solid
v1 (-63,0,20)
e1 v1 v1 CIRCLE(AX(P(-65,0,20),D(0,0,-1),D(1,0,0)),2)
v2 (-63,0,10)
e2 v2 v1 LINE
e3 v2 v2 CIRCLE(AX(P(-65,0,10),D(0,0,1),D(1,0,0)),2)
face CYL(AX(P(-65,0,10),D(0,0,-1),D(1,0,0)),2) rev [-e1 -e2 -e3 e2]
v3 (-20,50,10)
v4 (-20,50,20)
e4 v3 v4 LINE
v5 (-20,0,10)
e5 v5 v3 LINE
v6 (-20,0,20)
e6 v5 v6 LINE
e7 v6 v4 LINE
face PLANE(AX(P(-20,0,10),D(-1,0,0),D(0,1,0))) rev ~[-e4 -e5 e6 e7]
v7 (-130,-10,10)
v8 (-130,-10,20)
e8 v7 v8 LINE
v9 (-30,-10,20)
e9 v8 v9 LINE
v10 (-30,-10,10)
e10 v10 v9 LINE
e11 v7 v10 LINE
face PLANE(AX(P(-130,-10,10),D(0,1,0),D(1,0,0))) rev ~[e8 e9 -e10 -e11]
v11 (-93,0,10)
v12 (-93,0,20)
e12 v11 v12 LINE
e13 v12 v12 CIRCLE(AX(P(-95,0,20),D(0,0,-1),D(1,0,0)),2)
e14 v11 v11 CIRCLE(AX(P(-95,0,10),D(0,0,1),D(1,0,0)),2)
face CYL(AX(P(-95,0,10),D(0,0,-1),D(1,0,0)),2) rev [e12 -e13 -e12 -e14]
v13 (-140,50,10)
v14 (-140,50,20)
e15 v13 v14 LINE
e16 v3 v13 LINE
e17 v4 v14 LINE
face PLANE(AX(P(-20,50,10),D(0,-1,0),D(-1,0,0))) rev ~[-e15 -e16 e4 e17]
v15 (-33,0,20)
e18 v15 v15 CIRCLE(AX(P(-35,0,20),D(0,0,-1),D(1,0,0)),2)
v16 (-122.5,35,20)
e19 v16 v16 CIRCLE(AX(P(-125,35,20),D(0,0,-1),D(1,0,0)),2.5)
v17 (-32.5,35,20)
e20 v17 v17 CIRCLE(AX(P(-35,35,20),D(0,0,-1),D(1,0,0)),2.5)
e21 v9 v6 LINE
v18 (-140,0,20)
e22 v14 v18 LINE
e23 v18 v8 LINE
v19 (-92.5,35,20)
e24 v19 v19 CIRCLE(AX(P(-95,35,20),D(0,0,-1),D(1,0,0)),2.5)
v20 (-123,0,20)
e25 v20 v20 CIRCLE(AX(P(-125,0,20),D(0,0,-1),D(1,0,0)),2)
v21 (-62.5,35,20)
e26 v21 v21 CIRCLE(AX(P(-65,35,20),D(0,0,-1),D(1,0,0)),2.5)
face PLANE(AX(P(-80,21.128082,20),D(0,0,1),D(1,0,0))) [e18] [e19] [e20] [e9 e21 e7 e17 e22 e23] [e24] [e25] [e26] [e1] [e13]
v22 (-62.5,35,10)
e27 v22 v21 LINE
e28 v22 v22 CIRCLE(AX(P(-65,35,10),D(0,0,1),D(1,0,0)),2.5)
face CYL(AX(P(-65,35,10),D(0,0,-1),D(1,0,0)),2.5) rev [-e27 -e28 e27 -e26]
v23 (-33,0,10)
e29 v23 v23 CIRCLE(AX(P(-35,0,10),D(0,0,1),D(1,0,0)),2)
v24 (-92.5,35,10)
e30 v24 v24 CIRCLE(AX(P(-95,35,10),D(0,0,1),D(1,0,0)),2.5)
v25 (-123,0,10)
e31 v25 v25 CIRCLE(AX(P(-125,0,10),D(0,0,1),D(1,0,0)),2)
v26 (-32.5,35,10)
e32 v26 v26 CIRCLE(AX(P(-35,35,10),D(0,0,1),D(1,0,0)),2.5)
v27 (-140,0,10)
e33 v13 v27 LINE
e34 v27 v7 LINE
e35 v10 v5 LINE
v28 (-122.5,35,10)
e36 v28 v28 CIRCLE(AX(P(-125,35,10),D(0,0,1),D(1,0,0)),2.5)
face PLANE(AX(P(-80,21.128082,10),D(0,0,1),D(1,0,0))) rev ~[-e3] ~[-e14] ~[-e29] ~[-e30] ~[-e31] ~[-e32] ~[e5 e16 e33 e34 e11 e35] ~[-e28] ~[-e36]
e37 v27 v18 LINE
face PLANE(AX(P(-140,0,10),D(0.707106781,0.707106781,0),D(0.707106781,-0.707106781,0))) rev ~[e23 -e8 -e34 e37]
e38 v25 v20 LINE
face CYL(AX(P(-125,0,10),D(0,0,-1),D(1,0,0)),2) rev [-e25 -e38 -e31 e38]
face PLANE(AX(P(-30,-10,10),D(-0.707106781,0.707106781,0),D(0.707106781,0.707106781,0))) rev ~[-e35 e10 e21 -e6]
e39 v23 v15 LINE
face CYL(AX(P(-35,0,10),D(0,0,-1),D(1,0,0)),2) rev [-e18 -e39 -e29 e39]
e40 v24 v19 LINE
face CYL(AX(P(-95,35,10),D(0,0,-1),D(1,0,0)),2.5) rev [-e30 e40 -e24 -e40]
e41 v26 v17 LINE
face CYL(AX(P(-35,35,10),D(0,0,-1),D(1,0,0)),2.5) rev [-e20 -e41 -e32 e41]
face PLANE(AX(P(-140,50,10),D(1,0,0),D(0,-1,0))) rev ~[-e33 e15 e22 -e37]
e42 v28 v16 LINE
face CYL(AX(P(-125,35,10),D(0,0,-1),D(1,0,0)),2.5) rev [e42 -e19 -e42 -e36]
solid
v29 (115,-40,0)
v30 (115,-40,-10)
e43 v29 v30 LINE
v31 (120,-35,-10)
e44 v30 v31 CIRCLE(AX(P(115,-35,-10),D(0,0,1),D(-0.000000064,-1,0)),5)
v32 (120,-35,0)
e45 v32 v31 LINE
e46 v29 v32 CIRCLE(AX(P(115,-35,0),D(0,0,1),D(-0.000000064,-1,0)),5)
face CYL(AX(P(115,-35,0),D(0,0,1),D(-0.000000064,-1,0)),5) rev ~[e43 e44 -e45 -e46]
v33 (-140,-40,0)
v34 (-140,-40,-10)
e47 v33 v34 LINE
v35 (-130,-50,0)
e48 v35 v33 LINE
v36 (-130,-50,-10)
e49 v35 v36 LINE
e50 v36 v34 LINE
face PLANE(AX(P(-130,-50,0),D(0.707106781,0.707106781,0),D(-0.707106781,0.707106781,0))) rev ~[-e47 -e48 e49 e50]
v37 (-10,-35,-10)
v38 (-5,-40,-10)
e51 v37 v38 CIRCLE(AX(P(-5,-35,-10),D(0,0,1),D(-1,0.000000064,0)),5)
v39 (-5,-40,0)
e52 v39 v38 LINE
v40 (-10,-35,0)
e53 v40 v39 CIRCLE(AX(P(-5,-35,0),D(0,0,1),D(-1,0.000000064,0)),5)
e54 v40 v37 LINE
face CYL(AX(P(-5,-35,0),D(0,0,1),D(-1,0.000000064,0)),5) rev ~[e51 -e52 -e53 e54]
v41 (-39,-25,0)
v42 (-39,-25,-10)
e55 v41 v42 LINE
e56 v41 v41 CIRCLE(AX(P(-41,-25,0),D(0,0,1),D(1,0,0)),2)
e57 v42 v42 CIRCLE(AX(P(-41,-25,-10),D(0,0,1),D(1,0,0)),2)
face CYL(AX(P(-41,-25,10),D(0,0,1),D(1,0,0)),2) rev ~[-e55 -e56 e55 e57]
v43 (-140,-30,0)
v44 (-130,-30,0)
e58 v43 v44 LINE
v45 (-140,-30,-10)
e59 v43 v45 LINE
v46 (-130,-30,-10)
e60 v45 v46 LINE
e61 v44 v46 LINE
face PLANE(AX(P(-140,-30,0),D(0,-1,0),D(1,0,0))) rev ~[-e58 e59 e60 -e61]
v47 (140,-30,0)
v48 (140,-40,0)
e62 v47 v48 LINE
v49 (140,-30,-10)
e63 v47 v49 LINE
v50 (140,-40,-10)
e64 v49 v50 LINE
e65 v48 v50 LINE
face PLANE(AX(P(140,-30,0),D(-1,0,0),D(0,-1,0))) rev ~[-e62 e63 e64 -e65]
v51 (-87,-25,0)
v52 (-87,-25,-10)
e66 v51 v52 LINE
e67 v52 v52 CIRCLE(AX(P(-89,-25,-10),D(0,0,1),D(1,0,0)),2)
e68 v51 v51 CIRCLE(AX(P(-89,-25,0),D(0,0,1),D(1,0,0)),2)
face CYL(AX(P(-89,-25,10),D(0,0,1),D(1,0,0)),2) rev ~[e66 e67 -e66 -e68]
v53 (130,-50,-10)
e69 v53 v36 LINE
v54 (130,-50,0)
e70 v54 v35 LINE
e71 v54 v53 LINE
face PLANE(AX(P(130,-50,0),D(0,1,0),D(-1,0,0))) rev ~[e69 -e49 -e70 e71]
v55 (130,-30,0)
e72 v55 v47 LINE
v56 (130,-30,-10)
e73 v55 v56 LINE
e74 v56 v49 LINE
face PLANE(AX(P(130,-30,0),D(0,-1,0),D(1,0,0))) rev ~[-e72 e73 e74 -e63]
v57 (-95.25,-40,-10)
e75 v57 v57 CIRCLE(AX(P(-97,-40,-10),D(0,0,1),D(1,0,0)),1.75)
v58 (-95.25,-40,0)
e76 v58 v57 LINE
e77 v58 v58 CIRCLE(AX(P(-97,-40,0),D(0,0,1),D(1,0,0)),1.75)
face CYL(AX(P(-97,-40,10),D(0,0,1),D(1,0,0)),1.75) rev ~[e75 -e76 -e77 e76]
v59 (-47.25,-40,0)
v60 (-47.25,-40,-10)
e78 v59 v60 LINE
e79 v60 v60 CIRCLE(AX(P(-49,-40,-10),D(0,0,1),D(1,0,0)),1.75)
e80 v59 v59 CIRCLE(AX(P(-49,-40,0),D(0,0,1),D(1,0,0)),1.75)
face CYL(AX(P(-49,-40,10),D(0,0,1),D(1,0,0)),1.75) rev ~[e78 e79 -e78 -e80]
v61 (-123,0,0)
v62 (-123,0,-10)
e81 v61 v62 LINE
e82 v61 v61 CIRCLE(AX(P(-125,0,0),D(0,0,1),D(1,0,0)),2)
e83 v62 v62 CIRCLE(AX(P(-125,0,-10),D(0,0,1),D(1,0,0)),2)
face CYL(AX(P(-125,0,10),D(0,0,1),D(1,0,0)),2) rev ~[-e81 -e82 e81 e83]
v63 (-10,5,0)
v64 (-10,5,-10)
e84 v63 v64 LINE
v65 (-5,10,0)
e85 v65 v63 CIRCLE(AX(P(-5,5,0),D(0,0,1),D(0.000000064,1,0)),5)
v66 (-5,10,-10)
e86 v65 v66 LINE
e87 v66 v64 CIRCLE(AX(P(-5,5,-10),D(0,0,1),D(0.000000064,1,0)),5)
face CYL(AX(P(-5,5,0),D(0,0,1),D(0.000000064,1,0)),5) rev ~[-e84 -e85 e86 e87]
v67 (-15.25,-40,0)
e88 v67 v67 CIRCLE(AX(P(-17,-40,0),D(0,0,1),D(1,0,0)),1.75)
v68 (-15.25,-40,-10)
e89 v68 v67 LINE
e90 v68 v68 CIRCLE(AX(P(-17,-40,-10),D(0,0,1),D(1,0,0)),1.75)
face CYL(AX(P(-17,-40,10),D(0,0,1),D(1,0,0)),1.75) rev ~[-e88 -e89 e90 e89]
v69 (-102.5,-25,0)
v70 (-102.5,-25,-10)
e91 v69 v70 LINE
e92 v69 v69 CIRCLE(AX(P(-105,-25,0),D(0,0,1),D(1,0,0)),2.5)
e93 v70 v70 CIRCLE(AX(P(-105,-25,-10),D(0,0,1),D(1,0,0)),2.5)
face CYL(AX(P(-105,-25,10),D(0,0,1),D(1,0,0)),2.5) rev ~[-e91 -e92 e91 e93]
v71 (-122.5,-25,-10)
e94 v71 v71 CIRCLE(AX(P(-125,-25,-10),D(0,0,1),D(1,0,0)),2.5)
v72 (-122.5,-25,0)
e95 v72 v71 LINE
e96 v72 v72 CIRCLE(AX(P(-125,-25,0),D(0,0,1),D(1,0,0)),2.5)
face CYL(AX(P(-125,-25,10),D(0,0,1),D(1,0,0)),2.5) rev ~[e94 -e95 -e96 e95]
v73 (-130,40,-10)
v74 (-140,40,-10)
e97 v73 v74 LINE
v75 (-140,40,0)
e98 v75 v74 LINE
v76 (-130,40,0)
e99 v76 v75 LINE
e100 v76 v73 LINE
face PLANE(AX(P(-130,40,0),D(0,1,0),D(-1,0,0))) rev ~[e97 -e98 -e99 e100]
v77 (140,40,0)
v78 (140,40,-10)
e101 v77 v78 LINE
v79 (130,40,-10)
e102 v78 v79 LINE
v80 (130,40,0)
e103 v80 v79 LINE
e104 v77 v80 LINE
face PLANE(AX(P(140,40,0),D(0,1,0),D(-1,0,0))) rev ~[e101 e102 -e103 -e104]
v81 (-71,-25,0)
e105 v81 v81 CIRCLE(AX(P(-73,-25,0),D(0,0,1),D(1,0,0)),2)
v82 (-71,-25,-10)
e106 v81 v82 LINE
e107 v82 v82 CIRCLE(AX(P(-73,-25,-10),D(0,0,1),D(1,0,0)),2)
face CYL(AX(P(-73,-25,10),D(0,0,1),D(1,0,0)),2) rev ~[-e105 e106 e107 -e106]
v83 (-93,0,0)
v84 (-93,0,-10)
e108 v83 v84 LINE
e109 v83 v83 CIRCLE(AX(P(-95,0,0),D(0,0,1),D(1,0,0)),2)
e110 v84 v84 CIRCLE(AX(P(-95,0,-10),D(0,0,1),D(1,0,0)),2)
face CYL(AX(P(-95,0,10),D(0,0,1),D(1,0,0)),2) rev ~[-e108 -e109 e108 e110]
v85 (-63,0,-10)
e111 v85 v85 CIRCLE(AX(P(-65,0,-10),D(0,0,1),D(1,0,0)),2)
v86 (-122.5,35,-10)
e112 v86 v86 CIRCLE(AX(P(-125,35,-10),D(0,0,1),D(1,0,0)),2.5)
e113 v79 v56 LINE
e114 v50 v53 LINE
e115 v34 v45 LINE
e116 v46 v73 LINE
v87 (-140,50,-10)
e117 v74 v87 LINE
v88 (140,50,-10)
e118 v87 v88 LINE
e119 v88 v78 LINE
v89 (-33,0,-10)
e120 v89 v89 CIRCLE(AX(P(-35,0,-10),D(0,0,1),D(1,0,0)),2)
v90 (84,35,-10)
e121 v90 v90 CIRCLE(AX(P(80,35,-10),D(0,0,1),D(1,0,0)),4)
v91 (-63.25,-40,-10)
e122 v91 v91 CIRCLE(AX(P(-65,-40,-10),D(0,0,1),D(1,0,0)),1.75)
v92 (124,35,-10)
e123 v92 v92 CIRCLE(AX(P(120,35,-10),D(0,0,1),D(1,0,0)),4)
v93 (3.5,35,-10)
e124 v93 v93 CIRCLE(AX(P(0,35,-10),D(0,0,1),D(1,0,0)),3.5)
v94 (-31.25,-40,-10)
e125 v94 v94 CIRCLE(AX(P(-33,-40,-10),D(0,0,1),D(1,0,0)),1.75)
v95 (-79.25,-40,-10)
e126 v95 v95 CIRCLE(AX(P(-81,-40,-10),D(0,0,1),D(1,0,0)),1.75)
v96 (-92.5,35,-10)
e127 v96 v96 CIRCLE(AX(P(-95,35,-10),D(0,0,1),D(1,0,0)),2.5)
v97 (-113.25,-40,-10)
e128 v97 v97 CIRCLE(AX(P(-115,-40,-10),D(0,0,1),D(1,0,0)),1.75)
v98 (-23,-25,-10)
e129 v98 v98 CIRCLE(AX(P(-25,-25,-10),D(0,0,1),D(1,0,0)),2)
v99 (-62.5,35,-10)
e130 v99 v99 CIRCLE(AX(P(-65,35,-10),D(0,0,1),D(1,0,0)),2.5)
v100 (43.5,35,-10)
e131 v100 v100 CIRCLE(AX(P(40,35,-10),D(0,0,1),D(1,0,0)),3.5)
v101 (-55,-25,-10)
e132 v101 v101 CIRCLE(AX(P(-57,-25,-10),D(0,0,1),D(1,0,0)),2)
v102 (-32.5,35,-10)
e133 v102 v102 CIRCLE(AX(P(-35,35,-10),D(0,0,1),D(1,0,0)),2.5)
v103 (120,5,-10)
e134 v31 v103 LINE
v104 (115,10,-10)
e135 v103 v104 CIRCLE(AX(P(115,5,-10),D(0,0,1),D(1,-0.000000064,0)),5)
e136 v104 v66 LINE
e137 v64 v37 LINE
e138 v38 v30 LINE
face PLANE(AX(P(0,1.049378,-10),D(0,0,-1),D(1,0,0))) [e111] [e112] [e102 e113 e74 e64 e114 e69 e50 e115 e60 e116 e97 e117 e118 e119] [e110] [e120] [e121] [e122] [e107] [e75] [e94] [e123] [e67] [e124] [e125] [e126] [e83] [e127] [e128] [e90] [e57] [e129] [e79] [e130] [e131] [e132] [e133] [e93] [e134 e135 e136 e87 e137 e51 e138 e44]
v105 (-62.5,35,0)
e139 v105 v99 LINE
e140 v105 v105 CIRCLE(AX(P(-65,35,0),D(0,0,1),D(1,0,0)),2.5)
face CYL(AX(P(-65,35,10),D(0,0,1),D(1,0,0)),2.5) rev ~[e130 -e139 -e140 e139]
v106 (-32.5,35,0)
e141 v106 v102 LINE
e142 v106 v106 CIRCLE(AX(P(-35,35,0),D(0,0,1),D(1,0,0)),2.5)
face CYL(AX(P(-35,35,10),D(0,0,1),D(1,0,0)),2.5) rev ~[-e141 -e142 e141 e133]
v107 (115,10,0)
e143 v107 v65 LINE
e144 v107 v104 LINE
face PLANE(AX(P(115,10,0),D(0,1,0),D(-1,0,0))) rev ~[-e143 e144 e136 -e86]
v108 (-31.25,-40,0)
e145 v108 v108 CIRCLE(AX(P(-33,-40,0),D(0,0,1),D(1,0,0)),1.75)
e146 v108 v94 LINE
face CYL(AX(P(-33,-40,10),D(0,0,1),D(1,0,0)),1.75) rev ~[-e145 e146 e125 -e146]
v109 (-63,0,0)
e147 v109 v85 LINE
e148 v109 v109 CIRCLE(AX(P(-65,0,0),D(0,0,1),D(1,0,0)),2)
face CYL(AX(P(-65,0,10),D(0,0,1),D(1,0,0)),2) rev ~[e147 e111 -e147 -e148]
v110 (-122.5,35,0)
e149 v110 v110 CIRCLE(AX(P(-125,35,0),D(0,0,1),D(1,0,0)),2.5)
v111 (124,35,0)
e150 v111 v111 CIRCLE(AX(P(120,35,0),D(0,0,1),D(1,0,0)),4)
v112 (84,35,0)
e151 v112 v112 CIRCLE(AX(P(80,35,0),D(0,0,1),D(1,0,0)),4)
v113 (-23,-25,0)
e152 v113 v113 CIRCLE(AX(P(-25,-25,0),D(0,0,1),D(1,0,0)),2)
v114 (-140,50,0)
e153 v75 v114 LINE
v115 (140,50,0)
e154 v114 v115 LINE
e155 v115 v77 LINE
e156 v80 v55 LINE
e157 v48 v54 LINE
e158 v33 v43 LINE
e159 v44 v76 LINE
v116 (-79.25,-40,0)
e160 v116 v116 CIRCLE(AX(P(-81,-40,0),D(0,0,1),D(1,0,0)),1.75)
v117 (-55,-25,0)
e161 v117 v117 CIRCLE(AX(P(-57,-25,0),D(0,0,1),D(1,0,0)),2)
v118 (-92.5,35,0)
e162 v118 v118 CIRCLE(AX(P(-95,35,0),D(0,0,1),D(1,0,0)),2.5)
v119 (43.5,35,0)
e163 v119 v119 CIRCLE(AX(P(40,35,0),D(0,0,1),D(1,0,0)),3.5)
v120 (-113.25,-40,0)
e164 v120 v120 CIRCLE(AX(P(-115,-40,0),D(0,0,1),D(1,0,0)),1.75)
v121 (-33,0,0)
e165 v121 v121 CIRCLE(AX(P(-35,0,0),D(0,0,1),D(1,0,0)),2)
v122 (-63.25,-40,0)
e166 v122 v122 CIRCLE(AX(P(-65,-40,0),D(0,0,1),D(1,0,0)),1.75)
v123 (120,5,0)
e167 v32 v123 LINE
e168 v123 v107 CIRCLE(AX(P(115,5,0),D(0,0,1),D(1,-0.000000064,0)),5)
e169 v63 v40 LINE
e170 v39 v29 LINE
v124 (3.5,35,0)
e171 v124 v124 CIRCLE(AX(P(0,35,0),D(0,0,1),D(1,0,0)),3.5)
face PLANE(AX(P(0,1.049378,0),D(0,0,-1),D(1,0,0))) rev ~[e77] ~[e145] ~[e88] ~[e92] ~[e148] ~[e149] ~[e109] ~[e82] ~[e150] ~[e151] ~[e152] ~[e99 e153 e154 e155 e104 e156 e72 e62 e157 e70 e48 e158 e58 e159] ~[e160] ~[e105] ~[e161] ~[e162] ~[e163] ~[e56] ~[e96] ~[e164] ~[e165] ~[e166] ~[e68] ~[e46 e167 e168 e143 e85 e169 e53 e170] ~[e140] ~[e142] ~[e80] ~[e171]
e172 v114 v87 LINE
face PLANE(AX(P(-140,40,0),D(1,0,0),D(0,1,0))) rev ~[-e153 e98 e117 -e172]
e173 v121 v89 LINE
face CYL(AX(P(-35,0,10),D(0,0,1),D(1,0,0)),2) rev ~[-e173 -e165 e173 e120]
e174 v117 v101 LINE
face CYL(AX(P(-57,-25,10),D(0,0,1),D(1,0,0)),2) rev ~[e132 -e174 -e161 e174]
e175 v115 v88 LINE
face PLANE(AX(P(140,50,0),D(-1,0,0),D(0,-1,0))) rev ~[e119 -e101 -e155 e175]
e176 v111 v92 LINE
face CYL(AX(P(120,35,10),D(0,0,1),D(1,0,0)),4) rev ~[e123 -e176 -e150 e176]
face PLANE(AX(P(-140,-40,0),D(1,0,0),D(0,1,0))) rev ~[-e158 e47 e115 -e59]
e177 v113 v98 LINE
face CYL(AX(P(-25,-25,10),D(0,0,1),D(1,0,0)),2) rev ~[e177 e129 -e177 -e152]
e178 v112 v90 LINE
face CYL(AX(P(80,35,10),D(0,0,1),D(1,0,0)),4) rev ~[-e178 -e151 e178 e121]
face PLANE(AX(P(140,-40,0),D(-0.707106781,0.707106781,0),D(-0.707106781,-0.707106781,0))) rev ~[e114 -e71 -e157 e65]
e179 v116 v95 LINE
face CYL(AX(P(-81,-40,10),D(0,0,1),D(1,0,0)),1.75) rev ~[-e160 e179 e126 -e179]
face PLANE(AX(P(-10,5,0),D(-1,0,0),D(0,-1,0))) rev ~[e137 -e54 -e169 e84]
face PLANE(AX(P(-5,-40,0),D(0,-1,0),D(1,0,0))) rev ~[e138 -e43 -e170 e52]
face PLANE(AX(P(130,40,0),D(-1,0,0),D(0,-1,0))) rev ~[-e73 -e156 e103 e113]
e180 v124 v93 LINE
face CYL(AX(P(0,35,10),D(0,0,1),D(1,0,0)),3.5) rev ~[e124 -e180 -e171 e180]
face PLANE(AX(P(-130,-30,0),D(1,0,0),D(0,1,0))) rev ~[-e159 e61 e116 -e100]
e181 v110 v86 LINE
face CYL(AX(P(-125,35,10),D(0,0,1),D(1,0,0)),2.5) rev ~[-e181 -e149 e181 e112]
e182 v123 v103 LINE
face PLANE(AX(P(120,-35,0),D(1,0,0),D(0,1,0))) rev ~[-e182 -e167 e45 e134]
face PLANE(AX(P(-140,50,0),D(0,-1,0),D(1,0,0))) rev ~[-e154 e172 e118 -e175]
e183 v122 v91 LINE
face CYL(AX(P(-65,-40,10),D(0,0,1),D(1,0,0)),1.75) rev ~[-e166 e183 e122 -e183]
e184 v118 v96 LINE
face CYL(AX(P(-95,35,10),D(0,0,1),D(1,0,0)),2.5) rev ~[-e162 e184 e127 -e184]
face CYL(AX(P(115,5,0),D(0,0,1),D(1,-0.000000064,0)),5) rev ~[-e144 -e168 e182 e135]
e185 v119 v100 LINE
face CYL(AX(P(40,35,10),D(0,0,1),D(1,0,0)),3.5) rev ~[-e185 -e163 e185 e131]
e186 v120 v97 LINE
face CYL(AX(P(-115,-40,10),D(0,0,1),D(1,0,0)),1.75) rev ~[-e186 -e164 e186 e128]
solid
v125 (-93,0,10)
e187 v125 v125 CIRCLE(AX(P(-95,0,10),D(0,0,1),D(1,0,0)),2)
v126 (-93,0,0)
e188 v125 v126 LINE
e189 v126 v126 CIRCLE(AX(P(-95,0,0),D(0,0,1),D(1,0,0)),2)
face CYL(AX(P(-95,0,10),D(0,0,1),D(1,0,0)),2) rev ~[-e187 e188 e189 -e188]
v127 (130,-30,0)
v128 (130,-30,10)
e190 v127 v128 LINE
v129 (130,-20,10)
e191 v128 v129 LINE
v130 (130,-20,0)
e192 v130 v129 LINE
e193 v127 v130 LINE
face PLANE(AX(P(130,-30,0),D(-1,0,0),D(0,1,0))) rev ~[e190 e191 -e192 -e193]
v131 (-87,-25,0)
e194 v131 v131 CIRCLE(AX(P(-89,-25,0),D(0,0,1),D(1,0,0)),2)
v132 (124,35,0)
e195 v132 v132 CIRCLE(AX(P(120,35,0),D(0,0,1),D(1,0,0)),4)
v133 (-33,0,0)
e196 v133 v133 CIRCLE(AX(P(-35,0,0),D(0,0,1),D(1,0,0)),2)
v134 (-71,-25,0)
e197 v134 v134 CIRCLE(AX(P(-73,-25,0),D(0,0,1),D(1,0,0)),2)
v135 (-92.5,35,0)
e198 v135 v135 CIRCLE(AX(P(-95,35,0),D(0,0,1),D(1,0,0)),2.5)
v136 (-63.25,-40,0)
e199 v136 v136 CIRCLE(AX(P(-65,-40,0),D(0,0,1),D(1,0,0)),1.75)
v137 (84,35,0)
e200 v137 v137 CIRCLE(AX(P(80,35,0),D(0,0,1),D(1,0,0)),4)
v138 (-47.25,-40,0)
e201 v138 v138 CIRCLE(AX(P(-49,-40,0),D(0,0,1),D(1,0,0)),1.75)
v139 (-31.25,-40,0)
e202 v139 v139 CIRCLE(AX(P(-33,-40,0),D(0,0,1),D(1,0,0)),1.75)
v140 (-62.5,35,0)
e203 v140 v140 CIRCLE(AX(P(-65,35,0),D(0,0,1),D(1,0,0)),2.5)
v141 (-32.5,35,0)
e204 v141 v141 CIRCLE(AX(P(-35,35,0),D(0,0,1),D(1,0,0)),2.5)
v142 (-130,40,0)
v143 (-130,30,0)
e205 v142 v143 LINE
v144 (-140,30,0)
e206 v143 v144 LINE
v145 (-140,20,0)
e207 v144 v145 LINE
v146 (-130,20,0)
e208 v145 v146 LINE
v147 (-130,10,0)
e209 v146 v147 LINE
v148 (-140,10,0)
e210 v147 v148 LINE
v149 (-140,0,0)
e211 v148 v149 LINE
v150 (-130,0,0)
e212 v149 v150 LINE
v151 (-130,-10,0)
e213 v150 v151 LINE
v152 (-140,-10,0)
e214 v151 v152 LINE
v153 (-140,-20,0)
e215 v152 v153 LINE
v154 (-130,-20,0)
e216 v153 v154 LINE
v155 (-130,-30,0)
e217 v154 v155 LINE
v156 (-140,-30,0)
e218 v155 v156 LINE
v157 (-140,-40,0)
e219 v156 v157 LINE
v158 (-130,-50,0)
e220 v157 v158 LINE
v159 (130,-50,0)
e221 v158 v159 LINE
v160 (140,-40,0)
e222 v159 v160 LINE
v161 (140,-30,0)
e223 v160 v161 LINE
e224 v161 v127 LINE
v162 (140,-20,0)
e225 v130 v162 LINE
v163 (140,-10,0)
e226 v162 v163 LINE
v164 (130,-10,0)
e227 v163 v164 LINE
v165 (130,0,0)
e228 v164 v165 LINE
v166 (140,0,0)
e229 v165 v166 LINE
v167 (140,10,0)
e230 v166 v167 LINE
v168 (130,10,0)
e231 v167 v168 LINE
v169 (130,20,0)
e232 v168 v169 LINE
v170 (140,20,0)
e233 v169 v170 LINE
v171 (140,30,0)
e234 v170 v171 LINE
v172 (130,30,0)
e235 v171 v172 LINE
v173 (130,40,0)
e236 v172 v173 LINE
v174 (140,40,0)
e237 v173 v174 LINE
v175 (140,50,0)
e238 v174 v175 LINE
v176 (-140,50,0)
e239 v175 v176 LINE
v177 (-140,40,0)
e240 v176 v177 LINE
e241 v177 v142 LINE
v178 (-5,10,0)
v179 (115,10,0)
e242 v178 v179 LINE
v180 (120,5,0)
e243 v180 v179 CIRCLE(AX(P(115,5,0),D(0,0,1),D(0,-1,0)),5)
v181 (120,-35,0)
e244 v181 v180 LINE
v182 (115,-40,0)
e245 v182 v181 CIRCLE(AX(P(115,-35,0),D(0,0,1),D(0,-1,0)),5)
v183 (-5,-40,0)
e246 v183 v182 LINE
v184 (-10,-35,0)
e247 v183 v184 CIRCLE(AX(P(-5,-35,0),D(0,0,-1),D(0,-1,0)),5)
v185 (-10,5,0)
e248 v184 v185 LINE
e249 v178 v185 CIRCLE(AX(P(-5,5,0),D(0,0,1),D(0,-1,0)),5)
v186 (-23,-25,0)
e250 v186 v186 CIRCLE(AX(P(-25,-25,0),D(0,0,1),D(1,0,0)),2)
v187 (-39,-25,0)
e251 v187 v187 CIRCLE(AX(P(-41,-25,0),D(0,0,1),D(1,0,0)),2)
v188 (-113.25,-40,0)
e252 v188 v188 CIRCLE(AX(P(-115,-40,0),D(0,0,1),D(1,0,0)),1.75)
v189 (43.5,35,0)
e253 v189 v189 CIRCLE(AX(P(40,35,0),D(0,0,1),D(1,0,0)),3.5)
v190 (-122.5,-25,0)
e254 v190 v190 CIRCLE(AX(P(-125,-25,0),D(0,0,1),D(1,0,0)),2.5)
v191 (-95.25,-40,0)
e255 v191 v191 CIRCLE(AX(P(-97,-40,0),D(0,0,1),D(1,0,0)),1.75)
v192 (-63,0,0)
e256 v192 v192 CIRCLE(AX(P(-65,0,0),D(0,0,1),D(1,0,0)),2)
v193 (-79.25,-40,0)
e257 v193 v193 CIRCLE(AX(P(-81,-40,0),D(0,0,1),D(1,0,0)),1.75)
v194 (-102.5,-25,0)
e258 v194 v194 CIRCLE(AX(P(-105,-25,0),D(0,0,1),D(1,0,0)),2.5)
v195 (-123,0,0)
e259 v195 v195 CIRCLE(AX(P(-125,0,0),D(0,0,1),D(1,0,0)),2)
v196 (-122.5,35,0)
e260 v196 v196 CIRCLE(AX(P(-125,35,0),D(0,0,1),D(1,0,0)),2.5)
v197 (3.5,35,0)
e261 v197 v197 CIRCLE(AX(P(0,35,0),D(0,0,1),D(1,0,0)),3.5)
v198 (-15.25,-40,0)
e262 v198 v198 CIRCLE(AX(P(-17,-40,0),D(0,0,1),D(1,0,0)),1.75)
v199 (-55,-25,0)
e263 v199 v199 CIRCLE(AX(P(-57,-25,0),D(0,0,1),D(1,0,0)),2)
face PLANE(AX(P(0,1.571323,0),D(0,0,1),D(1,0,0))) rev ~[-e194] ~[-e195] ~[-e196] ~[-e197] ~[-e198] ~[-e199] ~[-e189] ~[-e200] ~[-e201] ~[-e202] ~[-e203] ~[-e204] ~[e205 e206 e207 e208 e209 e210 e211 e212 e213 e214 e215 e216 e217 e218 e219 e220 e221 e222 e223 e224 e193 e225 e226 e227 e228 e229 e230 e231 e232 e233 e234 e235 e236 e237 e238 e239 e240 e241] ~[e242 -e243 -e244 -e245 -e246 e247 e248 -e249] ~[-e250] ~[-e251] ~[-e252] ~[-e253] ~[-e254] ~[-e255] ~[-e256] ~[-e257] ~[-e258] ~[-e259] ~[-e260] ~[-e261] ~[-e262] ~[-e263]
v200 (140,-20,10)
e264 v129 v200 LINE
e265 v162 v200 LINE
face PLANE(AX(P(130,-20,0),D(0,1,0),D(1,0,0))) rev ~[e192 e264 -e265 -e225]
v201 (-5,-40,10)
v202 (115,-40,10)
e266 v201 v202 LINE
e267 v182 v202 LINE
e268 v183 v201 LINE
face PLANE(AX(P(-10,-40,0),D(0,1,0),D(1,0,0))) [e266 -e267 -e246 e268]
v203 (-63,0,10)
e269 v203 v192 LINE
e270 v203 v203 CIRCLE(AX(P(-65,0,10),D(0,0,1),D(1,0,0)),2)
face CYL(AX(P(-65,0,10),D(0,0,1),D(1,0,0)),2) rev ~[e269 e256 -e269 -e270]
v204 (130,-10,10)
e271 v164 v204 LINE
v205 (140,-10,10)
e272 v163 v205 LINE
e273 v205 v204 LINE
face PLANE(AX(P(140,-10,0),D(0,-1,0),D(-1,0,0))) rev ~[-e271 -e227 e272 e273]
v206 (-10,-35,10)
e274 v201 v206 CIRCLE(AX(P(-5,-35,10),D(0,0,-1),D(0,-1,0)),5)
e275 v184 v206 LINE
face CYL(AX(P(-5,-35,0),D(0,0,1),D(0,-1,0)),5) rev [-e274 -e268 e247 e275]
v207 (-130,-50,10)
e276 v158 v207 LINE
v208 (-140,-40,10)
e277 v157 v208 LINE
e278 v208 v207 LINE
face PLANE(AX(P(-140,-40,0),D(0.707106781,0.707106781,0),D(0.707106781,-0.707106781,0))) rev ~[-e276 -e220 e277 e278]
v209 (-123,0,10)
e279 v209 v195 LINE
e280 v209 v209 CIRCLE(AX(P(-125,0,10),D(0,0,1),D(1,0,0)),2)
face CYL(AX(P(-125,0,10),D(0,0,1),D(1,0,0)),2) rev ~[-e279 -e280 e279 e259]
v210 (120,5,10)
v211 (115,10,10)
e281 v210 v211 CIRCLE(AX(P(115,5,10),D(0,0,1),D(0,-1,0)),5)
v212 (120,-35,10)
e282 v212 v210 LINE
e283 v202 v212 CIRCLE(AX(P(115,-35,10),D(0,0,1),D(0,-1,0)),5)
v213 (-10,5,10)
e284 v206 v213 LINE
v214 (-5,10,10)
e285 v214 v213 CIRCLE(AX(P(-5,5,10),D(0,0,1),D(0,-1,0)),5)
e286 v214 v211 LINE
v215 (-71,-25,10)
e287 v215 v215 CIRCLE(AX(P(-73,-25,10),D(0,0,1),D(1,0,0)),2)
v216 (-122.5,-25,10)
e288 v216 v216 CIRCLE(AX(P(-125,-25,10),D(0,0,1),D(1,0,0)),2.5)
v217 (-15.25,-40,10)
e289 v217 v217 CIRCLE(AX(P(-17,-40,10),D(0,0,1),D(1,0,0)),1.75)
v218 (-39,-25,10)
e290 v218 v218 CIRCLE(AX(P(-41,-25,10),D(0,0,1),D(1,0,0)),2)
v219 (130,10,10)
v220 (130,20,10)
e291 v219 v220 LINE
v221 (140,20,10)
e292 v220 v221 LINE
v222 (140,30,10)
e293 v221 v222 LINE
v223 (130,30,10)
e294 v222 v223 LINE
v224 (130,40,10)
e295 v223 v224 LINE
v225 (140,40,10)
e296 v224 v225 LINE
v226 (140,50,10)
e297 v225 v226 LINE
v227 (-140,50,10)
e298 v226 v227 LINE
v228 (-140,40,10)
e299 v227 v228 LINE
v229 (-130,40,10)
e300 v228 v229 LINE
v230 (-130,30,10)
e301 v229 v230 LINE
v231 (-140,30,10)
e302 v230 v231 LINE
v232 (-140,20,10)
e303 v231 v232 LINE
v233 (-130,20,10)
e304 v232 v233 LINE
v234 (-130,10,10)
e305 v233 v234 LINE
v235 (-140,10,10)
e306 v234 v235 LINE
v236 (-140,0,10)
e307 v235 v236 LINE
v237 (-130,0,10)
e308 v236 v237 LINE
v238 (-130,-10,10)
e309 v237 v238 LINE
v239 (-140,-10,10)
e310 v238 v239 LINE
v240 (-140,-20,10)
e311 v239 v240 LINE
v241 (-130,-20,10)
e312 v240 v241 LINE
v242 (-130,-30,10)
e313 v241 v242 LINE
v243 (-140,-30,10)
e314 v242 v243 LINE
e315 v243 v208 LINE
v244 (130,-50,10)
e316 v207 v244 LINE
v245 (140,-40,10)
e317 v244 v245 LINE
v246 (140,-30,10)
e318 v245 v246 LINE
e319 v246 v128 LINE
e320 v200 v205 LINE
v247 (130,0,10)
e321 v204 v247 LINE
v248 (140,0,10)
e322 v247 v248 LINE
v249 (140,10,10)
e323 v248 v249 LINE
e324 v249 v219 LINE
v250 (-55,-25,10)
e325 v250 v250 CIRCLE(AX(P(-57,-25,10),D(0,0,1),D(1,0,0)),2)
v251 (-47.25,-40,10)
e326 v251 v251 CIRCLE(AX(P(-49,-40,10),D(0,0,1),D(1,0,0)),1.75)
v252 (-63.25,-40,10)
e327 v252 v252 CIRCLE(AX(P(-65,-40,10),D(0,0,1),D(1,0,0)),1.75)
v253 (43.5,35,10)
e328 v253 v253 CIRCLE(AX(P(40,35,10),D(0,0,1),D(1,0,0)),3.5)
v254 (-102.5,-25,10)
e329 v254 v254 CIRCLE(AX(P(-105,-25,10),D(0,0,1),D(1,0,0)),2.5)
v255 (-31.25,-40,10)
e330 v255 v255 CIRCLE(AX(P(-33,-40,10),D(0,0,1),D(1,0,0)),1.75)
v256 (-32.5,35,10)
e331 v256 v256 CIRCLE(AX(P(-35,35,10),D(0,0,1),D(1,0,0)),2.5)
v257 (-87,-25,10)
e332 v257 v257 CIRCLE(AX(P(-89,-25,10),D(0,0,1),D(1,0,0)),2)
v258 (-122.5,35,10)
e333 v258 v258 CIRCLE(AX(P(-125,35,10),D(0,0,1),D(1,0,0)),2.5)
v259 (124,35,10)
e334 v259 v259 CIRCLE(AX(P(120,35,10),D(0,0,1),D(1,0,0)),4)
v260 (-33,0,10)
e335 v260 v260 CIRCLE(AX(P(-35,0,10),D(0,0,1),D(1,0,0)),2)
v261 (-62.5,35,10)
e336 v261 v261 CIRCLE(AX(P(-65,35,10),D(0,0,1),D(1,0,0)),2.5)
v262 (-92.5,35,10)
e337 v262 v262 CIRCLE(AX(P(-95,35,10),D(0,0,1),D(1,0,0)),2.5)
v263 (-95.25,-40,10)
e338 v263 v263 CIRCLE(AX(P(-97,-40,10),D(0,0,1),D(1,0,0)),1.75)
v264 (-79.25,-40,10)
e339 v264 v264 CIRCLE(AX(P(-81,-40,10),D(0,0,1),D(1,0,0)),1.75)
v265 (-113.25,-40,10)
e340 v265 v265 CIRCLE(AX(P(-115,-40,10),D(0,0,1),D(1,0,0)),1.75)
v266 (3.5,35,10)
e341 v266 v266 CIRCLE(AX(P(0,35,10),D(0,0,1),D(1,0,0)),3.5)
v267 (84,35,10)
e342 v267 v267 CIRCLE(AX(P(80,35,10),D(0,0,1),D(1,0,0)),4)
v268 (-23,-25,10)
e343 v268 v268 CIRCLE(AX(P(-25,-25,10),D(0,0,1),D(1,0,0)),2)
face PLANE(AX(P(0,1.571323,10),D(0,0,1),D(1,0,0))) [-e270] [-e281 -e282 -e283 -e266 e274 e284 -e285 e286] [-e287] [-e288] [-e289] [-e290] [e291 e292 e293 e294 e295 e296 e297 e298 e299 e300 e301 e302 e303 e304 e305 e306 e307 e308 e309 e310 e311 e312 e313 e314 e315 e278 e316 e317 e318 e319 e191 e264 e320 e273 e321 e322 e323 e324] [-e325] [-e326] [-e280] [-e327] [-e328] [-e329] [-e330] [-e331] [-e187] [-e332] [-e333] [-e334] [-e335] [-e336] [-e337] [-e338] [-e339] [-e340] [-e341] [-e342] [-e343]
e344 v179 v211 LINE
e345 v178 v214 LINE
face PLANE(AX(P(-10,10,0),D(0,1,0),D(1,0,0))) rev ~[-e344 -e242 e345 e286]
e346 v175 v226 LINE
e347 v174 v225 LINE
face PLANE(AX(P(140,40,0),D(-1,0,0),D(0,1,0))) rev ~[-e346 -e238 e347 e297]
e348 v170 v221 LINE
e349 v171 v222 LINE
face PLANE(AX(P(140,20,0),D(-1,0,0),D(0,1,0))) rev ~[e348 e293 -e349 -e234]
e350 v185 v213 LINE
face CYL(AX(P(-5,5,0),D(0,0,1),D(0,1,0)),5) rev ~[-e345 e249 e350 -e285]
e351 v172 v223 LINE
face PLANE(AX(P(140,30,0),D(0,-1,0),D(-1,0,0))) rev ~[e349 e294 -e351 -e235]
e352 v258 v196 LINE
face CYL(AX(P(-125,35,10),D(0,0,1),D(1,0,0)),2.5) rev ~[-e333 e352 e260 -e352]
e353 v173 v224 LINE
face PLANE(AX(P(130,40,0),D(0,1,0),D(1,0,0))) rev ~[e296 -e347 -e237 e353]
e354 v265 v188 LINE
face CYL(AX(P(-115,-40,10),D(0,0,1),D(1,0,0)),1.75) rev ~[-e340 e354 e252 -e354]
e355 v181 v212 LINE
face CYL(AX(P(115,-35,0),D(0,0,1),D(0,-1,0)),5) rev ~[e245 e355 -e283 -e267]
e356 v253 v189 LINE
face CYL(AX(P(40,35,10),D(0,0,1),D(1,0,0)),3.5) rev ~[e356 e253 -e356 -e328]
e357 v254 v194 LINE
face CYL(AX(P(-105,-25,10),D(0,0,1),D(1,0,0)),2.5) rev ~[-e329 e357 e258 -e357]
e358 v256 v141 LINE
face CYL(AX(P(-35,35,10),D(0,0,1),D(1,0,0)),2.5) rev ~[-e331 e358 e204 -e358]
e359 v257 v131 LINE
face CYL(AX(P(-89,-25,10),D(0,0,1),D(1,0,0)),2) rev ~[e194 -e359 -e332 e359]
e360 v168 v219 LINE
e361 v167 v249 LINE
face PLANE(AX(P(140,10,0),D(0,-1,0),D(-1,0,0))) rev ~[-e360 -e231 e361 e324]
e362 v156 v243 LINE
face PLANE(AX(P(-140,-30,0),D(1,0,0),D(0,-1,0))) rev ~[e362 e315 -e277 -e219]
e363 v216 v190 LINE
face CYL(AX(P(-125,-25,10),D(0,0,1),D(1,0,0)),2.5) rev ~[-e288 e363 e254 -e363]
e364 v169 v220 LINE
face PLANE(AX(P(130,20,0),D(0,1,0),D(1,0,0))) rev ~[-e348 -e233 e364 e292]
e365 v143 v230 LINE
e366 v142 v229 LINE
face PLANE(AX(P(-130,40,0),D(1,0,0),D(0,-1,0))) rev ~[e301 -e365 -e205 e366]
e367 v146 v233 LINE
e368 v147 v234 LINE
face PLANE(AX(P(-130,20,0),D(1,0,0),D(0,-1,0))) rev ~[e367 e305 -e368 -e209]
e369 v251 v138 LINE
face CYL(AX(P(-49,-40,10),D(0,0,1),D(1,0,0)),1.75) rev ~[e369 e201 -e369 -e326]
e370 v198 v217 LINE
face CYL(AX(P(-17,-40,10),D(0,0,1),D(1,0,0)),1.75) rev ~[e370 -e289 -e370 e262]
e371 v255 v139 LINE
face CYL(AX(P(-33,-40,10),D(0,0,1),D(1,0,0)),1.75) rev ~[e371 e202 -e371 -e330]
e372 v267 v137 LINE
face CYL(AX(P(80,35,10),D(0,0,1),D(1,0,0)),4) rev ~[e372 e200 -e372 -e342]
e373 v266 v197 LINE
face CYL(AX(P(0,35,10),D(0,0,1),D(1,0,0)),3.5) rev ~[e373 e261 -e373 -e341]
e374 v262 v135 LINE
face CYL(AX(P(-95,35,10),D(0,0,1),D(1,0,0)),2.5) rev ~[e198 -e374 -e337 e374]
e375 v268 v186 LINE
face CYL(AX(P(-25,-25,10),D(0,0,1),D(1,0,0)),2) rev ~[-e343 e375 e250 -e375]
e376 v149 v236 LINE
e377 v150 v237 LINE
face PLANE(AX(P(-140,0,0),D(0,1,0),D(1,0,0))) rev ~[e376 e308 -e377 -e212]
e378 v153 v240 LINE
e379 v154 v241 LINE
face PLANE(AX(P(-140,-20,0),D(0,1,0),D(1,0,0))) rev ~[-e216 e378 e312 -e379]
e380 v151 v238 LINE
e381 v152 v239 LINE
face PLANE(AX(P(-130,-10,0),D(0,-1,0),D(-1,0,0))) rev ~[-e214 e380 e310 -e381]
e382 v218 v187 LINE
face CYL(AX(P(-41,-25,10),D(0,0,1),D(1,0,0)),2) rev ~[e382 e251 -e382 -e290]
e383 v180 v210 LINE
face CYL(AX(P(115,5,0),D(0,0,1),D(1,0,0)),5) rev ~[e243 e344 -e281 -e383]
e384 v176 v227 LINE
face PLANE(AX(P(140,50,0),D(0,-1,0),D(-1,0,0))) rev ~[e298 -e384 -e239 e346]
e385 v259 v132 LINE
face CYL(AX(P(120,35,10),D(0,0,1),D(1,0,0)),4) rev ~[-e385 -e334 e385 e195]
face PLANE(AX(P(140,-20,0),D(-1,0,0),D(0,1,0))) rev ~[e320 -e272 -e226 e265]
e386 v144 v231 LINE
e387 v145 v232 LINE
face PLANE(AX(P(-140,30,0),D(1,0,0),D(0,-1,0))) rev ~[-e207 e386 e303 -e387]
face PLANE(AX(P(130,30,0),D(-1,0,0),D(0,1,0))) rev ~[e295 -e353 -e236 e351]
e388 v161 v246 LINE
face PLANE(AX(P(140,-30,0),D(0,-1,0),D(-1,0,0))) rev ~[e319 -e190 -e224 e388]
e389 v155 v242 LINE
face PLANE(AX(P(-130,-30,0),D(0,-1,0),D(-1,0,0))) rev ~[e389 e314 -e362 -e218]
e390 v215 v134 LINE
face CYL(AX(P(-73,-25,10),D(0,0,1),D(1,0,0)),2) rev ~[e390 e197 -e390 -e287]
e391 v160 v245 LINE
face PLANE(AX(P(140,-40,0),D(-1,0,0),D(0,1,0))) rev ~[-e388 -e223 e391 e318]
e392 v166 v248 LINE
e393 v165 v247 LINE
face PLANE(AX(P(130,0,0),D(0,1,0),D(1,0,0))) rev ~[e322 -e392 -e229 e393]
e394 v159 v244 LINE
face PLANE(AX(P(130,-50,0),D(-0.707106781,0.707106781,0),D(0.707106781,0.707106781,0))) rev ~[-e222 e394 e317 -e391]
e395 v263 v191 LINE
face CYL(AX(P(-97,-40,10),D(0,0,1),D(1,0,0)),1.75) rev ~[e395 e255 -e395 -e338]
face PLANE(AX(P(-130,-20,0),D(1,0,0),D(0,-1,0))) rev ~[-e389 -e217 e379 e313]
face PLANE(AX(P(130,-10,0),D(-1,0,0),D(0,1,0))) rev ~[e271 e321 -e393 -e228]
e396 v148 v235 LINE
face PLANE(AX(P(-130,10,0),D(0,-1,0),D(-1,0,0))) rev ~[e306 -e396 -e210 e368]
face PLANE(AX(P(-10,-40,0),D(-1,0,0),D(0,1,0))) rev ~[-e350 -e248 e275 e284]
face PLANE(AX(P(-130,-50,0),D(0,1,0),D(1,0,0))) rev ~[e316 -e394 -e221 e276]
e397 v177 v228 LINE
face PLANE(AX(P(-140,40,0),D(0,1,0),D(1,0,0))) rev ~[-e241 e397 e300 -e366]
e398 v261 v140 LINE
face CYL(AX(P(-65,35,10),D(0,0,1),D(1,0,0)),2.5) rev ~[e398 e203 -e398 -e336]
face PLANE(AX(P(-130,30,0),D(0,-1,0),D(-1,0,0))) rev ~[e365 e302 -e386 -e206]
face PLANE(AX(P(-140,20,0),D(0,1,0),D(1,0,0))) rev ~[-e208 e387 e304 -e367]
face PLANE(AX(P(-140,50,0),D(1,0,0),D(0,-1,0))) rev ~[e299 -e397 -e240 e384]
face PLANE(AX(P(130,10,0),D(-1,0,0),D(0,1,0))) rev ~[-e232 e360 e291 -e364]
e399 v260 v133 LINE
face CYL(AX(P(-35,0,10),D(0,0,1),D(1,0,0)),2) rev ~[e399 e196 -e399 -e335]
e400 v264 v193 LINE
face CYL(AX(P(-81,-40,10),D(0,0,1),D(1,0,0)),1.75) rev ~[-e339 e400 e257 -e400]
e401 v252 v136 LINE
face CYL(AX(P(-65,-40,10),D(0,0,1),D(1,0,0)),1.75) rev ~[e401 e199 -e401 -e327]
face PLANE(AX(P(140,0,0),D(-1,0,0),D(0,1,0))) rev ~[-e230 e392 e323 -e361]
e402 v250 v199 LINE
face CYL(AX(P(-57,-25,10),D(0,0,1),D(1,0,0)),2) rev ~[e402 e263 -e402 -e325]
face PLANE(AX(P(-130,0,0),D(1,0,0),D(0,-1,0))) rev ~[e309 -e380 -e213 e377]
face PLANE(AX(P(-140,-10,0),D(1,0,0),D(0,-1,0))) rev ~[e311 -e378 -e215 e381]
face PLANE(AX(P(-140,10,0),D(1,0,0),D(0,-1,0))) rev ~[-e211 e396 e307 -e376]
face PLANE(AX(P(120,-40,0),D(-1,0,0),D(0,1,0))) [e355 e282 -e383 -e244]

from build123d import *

# Parameters (mm, degrees)
F0_W     = 130
F0_H     = 50
F1_DEPTH = 10
F2_R     = 5
F4_DEPTH = 10
F6_DEPTH = 10
F7_R     = 3.5
F7_R_2   = 4
F7_R_3   = 2.5
F7_R_4   = 2
F7_R_5   = 1.75
F8_DEPTH = 25


with BuildPart() as f1:
    # F0 (on Top) → F1 (new body)
    with BuildSketch(Plane.XY):
        Polygon((140, 40), (140, 50), (-140, 50), (-140, 40), (-130, 40), (-130, 30), (-140, 30), (-140, 20), (-130, 20), (-130, 10), (-140, 10), (-140, 0), (-130, 0), (-130, -10), (-140, -10), (-140, -20), (-130, -20), (-130, -30), (-140, -30), (-140, -40), (-130, -50), (130, -50), (140, -40), (140, -30), (130, -30), (130, -20), (140, -20), (140, -10), (130, -10), (130, 0), (140, 0), (140, 10), (130, 10), (130, 20), (140, 20), (140, 30), (130, 30), (130, 40), align=None)
        with Locations((55, -15)):
            Rectangle(F0_W, F0_H, mode=Mode.SUBTRACT)
    extrude(amount=F1_DEPTH)

    # F2
    f2_edges = [f1.edges().sort_by_distance(p)[0] for p in [
        (-10, 10, 5),
        (120, 10, 5),
        (-10, -40, 5),
        (120, -40, 5),
    ]]
    fillet(f2_edges, radius=F2_R)


with BuildPart() as f4:
    # F3 (on face) → F4 (new body)
    with BuildSketch(Plane.XY.offset(10)):
        Polygon((-20, 50), (-140, 50), (-140, 0), (-130, -10), (-30, -10), (-20, 0), align=None)
    extrude(amount=F4_DEPTH)


with BuildPart() as f6:
    # F5 (on face) → F6 (new body)
    with BuildSketch(Plane(origin=(0, 0, 0), x_dir=(1, 0, 0), z_dir=(0, 0, -1))):
        Polygon((-130, 30), (-130, -40), (-140, -40), (-140, -50), (-130, -50), (130, -50), (140, -50), (140, -40), (130, -40), (130, 30), (140, 30), (140, 40), (130, 50), (-130, 50), (-140, 40), (-140, 30), align=None)
        with BuildLine():
            Line((-5, 40), (115, 40))
            ThreePointArc((115, 40), (118.535534, 38.535534), (120, 35))
            Line((120, 35), (120, -5))
            ThreePointArc((120, -5), (118.535534, -8.535534), (115, -10))
            Line((115, -10), (-5, -10))
            ThreePointArc((-5, -10), (-8.535534, -8.535534), (-10, -5))
            Line((-10, -5), (-10, 35))
            ThreePointArc((-10, 35), (-8.535534, 38.535534), (-5, 40))
        make_face(mode=Mode.SUBTRACT)
    extrude(amount=F6_DEPTH)


with BuildPart() as f8_tool:
    # F7 (on face) → F8 (new body, symmetric)
    with BuildSketch(Plane.XY.offset(10)):
        with Locations((0, 35)):
            Circle(F7_R)
        with Locations((40, 35)):
            Circle(F7_R)
        with Locations((80, 35)):
            Circle(F7_R_2)
        with Locations((120, 35)):
            Circle(F7_R_2)
        with Locations((-35, 35)):
            Circle(F7_R_3)
        with Locations((-65, 35)):
            Circle(F7_R_3)
        with Locations((-95, 35)):
            Circle(F7_R_3)
        with Locations((-125, 35)):
            Circle(F7_R_3)
        with Locations((-35, 0)):
            Circle(F7_R_4)
        with Locations((-65, 0)):
            Circle(F7_R_4)
        with Locations((-95, 0)):
            Circle(F7_R_4)
        with Locations((-125, 0)):
            Circle(F7_R_4)
        with Locations((-125, -25)):
            Circle(F7_R_3)
        with Locations((-105, -25)):
            Circle(F7_R_3)
        with Locations((-89, -25)):
            Circle(F7_R_4)
        with Locations((-73, -25)):
            Circle(F7_R_4)
        with Locations((-57, -25)):
            Circle(F7_R_4)
        with Locations((-41, -25)):
            Circle(F7_R_4)
        with Locations((-25, -25)):
            Circle(F7_R_4)
        with Locations((-115, -40)):
            Circle(F7_R_5)
        with Locations((-97, -40)):
            Circle(F7_R_5)
        with Locations((-81, -40)):
            Circle(F7_R_5)
        with Locations((-65, -40)):
            Circle(F7_R_5)
        with Locations((-49, -40)):
            Circle(F7_R_5)
        with Locations((-33, -40)):
            Circle(F7_R_5)
        with Locations((-17, -40)):
            Circle(F7_R_5)
    extrude(amount=F8_DEPTH, both=True)


with BuildPart() as f1_1:
    add(f1.part)

    # F8: cut by f8_tool
    add(f8_tool.part, mode=Mode.SUBTRACT)


with BuildPart() as f4_1:
    add(f4.part)

    # F8: cut by f8_tool
    add(f8_tool.part, mode=Mode.SUBTRACT)


with BuildPart() as f6_1:
    add(f6.part)

    # F8: cut by f8_tool
    add(f8_tool.part, mode=Mode.SUBTRACT)


solid = Compound([f1_1.part, f4_1.part, f6_1.part])
